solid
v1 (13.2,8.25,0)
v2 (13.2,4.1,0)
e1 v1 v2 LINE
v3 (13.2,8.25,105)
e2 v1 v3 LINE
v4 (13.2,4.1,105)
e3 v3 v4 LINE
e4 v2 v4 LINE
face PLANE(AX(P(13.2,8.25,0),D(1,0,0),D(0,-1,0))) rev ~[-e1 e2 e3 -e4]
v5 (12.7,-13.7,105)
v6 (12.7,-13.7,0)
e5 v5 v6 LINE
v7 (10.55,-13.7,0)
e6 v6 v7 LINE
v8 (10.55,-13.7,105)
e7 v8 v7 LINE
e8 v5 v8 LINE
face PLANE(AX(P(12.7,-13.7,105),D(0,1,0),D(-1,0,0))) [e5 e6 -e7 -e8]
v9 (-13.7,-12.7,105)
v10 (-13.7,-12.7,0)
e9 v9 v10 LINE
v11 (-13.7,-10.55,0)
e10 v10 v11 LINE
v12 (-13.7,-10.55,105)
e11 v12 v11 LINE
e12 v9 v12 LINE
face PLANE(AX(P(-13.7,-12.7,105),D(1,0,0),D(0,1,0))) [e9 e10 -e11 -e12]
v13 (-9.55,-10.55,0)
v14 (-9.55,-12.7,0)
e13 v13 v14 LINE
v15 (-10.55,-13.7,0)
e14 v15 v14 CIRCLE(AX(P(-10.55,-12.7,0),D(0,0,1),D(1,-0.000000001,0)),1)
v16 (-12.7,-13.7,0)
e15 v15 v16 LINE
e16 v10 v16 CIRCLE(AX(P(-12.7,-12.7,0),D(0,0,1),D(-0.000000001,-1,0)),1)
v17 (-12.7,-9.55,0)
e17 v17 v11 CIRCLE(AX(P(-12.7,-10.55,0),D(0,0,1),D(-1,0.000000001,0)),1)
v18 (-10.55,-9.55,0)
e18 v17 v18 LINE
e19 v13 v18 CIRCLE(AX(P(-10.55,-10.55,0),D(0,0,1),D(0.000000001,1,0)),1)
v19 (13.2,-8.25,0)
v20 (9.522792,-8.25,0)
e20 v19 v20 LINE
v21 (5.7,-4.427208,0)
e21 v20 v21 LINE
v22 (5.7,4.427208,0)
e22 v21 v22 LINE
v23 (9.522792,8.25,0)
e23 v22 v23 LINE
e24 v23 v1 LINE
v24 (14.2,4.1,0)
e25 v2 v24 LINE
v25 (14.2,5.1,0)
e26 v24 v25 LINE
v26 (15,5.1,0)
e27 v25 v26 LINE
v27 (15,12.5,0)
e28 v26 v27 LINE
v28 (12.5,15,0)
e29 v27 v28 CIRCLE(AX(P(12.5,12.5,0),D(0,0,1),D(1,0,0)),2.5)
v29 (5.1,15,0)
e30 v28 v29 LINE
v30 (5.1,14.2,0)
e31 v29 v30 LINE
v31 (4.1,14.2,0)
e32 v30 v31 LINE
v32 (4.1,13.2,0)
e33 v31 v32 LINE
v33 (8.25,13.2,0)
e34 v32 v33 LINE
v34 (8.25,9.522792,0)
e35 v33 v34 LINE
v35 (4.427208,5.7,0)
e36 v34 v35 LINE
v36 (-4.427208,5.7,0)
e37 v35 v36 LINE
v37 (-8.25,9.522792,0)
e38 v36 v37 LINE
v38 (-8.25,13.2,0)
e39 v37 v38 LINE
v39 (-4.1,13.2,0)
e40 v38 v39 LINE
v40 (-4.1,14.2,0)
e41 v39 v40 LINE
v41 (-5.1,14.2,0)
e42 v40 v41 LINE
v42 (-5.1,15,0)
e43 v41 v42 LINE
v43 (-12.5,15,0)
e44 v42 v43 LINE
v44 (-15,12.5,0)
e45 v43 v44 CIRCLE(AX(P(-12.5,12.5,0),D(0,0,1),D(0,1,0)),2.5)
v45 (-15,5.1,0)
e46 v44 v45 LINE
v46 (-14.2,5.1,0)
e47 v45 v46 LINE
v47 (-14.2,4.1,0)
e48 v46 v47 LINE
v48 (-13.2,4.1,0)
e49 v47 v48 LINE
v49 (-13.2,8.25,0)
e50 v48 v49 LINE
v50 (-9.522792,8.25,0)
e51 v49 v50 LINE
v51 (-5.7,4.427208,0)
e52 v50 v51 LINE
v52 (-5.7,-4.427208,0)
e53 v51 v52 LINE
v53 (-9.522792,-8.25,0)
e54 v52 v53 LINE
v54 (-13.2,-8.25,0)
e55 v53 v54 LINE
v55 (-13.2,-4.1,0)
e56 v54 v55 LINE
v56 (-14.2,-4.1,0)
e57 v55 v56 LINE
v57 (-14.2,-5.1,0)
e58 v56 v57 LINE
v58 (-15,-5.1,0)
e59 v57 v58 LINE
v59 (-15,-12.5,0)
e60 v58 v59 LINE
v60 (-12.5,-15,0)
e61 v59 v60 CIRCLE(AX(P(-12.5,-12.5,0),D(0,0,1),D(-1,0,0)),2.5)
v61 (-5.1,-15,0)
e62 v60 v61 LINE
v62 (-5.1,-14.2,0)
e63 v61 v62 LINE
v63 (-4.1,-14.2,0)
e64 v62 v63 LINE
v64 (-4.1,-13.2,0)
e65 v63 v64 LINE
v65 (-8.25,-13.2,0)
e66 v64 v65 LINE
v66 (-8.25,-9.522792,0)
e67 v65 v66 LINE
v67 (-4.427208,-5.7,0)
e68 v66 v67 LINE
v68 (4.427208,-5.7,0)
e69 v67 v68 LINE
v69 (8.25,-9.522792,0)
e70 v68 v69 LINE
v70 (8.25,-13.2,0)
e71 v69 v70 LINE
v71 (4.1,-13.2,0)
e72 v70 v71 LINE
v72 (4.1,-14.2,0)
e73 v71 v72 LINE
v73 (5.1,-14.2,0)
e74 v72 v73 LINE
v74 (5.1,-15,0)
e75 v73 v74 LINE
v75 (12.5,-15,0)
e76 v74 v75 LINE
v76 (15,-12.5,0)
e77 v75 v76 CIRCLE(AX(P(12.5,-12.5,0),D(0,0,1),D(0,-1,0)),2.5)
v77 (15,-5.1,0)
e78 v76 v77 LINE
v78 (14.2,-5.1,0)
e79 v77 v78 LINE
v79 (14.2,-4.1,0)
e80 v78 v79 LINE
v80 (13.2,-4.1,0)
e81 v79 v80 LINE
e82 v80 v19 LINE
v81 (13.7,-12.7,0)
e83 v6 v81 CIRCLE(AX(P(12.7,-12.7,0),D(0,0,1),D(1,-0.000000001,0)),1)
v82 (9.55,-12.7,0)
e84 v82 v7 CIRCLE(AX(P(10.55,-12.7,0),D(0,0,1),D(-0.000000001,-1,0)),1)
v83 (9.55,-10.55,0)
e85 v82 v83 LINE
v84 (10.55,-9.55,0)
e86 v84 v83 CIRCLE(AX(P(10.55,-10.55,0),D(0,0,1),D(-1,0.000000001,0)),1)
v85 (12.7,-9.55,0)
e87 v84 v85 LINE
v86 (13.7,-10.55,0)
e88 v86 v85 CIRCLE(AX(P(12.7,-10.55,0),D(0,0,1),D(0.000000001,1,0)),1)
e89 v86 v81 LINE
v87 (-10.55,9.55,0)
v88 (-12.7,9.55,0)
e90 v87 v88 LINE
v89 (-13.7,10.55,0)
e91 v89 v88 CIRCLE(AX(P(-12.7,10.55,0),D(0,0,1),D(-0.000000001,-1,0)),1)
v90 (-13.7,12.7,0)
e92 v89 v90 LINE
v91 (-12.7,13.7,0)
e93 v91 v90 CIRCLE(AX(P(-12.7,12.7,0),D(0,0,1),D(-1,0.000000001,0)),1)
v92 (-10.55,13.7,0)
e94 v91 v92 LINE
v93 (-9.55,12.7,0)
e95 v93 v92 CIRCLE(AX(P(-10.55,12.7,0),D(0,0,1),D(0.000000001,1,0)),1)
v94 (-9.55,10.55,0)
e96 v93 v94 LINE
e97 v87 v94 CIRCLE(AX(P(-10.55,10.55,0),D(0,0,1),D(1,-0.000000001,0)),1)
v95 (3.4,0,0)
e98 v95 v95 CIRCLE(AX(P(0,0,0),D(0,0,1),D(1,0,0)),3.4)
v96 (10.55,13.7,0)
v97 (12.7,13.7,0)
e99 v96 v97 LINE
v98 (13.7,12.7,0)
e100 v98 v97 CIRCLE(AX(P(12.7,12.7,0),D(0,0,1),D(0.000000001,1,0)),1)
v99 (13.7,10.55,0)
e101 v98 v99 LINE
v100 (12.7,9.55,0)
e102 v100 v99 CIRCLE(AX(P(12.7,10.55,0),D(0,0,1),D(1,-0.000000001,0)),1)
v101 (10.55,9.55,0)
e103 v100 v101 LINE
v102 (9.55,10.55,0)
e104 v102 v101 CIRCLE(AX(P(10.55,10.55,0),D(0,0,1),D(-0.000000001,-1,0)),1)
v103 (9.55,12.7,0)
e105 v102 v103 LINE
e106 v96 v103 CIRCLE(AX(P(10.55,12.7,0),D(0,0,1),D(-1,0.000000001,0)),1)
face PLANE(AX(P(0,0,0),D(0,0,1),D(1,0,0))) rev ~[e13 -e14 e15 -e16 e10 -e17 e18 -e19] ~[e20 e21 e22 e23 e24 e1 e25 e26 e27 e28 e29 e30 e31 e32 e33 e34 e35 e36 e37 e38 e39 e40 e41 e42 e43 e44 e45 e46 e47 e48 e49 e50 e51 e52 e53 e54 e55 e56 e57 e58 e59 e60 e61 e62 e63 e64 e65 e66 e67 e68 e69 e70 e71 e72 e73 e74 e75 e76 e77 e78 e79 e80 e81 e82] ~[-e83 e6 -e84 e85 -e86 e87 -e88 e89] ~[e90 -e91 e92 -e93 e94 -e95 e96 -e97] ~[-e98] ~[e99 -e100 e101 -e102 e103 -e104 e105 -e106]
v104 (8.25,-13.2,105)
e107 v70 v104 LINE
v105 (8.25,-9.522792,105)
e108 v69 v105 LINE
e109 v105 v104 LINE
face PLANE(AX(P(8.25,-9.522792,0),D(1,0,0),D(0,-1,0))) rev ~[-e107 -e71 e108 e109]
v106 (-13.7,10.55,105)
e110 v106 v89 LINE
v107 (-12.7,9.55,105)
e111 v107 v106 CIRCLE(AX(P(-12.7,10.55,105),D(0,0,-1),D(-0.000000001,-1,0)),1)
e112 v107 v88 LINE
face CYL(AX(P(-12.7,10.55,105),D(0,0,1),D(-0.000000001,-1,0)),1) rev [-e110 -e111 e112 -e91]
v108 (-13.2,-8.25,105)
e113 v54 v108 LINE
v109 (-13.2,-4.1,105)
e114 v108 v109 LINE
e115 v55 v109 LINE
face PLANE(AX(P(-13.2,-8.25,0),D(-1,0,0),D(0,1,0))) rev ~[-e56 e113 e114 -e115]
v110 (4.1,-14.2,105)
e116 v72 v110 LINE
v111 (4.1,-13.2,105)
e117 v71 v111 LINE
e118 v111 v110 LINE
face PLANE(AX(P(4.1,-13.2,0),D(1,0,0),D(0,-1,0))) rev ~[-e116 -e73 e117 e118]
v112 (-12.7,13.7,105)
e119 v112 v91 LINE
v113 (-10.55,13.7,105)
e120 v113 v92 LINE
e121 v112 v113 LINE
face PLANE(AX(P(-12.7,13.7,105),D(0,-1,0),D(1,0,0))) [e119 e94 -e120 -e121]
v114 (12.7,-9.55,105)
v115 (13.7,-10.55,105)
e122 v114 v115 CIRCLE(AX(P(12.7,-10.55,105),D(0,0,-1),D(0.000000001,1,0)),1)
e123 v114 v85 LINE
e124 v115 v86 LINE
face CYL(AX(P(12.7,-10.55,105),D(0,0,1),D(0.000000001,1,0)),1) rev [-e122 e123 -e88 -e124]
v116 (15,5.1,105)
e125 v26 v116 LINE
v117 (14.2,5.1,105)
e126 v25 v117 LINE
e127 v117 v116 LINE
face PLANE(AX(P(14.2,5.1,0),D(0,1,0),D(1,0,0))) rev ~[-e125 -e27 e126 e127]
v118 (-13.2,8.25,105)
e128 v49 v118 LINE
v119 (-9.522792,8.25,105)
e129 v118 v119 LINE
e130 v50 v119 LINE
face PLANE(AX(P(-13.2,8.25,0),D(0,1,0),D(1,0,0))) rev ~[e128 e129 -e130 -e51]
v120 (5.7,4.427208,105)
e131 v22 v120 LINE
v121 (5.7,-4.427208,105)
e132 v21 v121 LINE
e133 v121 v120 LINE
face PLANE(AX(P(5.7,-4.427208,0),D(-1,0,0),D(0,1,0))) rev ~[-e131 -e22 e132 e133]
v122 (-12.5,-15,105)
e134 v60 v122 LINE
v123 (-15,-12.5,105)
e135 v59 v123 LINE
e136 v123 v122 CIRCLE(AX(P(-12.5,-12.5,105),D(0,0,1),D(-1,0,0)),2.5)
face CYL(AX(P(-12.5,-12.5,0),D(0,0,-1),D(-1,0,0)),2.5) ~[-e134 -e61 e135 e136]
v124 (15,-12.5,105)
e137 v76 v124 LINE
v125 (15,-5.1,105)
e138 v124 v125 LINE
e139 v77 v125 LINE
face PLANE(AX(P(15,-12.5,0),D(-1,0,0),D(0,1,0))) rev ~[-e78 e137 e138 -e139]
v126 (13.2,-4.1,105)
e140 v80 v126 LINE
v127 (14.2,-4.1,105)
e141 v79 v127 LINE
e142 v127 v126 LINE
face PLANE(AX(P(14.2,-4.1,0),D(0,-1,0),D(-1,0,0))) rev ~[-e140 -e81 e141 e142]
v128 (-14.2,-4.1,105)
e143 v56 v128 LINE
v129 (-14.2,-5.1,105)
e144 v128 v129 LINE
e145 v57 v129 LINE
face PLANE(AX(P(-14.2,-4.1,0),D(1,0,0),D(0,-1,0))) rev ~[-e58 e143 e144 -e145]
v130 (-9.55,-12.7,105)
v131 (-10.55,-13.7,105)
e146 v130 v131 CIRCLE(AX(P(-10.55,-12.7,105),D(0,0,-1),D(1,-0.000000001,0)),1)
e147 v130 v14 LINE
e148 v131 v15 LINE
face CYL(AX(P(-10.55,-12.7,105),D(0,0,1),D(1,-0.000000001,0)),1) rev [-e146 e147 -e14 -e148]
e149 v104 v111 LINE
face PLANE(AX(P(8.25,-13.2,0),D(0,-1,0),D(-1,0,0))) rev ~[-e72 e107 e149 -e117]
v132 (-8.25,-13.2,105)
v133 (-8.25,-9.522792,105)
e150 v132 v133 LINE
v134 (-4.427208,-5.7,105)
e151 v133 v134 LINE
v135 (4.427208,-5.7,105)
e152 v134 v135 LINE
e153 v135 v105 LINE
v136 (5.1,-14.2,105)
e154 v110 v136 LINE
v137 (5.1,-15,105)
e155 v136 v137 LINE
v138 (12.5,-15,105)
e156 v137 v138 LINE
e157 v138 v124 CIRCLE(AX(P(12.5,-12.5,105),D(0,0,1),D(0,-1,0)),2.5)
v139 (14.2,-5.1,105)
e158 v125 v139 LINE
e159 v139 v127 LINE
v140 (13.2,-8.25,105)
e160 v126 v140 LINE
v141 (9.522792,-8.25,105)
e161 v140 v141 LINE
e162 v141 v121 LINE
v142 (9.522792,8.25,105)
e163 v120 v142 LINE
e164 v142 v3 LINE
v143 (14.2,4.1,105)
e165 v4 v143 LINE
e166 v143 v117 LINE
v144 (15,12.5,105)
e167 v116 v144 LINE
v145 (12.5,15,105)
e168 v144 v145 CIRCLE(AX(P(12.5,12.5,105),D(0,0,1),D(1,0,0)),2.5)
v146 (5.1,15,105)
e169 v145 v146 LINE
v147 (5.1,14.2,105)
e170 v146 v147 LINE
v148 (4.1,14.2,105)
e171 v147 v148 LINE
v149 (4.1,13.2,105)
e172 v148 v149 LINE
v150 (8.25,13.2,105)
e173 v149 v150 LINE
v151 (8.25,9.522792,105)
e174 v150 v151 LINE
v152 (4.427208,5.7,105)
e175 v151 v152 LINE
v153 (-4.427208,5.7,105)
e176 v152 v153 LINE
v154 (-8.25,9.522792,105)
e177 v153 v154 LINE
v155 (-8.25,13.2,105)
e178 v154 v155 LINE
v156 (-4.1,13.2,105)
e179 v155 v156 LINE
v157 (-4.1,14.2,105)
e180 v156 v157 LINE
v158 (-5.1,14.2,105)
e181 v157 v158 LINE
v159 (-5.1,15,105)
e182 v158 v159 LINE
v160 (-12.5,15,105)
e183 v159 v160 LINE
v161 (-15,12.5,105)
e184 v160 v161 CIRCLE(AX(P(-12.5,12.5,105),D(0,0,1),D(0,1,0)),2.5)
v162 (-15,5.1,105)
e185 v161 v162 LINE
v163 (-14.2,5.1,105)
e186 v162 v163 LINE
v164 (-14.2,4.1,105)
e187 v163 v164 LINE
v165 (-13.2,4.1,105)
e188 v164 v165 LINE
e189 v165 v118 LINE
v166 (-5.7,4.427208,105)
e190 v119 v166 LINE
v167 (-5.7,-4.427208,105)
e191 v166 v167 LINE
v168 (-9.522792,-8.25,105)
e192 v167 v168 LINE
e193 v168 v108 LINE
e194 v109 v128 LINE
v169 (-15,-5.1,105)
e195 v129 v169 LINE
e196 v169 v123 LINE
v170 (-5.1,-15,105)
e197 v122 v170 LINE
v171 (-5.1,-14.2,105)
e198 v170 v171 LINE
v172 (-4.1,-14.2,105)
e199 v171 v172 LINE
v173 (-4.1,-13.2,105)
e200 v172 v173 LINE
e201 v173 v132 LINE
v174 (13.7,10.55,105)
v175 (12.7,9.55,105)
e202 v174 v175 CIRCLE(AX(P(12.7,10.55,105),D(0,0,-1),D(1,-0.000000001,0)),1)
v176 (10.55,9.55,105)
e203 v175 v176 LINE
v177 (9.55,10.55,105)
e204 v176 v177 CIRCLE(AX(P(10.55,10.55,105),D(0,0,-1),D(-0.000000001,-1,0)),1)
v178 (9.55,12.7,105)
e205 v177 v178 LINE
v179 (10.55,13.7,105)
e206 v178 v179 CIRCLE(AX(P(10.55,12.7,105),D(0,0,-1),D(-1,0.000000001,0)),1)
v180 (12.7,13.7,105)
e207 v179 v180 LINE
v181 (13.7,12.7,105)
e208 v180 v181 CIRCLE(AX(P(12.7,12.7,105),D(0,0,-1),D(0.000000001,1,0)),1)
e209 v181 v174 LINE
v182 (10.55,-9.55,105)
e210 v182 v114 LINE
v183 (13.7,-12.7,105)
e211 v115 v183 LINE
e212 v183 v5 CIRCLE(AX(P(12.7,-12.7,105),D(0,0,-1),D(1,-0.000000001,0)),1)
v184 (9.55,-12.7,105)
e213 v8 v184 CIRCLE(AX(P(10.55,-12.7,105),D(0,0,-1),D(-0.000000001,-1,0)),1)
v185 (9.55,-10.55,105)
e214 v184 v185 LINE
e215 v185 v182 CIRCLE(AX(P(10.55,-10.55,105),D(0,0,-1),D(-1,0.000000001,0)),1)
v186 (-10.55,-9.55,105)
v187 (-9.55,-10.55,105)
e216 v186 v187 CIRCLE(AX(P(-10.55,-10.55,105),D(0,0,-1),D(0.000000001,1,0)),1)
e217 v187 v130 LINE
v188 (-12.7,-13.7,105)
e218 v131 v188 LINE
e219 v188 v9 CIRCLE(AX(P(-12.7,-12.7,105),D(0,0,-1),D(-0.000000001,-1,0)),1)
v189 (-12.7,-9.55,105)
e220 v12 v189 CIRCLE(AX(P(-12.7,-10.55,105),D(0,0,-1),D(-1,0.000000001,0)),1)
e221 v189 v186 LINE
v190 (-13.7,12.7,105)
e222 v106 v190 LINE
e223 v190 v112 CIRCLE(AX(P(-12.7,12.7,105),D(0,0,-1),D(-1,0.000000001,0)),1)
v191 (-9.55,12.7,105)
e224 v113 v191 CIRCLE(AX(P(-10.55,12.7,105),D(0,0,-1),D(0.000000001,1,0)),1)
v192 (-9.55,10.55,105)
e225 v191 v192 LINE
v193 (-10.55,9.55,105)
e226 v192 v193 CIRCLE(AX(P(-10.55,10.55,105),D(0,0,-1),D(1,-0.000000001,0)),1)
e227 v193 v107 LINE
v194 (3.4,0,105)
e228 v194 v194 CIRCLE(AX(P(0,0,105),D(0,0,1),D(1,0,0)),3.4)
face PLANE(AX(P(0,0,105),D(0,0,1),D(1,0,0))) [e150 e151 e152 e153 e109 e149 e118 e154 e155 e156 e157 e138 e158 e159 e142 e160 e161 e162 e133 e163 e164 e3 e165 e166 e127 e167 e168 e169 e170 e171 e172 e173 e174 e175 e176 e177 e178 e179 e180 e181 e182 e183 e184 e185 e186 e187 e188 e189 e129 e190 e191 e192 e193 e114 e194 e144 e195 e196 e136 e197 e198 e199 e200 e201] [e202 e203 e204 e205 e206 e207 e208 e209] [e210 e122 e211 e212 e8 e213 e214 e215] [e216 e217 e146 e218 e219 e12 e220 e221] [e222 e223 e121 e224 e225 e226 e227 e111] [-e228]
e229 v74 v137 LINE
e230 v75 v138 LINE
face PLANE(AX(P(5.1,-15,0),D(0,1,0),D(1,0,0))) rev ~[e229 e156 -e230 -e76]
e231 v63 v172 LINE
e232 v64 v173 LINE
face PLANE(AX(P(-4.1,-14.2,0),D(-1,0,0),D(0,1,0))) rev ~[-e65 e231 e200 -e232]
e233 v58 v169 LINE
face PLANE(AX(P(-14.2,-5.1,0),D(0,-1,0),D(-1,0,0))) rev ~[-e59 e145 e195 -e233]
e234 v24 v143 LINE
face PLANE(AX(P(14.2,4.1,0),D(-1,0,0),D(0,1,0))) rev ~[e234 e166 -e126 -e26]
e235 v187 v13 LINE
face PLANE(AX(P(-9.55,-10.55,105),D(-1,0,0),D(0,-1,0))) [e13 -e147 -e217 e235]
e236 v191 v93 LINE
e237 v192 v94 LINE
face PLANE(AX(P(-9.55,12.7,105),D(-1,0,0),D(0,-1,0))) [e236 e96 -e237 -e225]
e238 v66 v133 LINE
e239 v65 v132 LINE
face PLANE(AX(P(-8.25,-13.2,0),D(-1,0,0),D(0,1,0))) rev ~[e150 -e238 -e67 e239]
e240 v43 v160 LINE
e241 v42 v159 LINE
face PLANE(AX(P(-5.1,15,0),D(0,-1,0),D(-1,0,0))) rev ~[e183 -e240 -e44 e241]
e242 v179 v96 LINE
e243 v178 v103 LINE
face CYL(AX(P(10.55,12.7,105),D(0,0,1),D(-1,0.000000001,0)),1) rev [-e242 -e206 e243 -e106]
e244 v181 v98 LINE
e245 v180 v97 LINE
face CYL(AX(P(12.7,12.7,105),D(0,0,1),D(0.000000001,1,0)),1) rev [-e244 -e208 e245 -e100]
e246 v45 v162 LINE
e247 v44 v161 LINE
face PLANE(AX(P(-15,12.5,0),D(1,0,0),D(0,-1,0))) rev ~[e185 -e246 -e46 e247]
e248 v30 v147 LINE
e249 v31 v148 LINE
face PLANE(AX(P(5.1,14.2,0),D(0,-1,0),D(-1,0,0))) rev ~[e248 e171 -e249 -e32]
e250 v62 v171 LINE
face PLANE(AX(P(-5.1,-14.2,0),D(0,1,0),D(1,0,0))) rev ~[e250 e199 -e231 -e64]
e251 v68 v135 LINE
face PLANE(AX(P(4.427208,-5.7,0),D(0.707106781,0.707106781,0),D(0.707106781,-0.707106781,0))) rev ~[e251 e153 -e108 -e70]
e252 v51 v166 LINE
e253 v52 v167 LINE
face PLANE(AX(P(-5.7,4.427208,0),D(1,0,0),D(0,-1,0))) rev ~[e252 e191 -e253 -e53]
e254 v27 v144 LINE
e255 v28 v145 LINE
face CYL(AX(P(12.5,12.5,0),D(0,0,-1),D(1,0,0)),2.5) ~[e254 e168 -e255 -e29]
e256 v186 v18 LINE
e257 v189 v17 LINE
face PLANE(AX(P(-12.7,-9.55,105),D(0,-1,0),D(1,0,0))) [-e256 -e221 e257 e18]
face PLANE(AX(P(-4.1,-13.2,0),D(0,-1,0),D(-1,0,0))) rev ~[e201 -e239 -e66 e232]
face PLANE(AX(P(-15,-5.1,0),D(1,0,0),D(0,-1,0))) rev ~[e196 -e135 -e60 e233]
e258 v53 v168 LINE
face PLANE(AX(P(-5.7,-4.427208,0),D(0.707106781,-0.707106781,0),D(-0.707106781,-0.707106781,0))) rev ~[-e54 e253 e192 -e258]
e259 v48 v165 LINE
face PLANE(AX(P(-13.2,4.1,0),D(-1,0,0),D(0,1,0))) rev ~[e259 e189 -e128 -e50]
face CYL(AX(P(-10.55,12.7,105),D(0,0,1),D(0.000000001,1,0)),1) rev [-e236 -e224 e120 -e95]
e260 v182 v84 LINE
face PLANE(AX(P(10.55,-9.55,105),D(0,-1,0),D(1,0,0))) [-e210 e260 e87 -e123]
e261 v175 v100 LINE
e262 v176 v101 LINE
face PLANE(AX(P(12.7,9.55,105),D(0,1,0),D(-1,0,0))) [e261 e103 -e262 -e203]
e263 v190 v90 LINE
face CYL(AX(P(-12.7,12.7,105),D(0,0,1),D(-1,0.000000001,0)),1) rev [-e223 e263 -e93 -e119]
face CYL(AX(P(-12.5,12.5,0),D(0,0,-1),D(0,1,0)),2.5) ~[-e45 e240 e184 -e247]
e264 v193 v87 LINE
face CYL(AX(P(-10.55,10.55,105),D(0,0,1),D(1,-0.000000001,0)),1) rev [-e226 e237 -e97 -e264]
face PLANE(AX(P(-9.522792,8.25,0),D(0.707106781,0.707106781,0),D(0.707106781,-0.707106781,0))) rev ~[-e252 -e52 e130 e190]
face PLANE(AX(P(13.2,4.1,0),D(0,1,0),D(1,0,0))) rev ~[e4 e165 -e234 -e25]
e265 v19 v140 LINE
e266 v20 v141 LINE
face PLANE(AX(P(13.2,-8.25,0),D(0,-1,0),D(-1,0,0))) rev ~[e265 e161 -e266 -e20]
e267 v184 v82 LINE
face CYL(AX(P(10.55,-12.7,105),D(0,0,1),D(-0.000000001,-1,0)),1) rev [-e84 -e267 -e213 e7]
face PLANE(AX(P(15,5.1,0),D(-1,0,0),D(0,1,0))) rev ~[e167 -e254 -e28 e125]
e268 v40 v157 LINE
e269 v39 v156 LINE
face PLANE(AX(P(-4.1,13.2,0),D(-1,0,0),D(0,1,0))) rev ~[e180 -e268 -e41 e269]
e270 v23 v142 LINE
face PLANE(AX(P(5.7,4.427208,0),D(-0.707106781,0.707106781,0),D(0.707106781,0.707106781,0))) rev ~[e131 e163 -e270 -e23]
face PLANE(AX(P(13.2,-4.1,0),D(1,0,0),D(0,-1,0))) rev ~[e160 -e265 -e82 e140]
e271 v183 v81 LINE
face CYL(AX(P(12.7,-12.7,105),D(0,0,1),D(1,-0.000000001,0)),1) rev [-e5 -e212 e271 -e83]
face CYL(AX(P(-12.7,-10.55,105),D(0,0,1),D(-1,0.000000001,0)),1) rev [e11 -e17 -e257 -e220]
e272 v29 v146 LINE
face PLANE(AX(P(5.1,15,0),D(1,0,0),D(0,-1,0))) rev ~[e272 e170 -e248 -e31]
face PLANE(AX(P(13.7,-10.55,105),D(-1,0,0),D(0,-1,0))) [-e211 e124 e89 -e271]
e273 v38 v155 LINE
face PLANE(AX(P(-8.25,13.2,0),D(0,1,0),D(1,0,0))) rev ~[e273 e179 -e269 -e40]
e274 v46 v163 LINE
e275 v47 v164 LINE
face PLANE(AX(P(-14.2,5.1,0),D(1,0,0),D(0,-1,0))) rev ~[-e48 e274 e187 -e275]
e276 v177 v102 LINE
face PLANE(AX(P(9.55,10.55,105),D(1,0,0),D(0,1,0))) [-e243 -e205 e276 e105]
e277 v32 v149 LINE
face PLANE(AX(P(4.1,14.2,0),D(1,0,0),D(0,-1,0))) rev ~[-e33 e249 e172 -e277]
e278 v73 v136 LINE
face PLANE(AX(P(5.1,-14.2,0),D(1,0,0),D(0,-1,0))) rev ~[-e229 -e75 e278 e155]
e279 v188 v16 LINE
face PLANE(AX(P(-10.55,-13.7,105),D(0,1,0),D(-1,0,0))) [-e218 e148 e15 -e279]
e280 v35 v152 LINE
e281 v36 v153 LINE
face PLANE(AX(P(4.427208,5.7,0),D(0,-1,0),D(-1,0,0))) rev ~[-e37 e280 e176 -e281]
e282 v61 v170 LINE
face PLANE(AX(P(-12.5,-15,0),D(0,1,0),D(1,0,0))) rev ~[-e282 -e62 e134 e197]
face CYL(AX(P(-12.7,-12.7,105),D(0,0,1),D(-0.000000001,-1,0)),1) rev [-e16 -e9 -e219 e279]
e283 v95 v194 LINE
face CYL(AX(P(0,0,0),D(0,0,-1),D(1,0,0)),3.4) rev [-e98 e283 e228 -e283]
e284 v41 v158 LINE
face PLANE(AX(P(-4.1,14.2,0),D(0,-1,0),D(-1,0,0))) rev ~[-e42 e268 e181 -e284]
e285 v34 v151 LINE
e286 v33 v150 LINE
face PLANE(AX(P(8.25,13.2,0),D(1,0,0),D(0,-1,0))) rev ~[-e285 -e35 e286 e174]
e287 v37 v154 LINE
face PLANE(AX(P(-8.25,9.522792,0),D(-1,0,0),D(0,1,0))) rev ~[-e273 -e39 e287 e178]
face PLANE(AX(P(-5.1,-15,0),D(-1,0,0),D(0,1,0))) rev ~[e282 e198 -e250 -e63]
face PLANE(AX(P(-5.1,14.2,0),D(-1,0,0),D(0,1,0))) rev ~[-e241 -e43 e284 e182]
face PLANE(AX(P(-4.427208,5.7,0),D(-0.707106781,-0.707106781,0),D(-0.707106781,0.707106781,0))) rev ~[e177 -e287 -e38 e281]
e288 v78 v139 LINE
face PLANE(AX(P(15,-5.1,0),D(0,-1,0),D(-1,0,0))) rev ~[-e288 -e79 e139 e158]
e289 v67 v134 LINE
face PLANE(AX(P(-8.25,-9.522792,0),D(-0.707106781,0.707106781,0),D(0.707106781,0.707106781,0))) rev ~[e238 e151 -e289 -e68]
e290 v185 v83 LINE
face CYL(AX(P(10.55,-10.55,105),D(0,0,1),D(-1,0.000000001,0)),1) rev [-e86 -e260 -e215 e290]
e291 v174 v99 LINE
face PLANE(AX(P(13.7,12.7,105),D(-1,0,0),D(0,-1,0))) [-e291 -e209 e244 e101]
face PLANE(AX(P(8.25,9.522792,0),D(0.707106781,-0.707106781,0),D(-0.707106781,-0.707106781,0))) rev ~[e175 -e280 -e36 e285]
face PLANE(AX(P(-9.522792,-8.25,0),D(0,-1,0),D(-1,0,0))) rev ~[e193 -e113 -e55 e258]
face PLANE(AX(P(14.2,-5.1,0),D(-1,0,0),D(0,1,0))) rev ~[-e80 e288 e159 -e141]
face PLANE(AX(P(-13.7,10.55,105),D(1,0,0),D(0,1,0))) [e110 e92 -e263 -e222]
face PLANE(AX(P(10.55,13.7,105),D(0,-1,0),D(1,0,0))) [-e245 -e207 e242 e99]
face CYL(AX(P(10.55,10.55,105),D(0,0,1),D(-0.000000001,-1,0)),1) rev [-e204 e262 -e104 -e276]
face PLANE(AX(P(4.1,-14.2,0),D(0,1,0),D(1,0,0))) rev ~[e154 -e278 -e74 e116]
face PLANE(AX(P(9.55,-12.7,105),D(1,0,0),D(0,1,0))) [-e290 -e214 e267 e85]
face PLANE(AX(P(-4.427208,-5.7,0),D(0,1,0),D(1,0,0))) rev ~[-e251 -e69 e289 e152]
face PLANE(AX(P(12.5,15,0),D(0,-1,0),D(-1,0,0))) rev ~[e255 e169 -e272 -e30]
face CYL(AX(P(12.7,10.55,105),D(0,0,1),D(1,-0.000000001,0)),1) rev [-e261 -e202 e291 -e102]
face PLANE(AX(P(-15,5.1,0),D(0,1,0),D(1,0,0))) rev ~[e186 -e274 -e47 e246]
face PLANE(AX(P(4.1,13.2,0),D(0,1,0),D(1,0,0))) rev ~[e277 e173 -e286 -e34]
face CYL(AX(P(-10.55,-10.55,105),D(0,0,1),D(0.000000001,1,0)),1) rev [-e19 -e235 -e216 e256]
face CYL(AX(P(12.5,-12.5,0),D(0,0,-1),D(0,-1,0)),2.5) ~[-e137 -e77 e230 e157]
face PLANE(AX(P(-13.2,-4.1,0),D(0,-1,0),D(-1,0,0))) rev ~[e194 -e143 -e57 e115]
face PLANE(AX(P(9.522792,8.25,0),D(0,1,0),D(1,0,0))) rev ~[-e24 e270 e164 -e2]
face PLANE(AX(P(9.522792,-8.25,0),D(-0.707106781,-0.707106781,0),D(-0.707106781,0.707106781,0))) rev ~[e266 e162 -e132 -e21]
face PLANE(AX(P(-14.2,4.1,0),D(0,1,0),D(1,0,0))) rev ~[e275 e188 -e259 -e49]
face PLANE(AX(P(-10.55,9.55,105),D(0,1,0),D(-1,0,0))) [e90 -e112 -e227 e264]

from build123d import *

# Parameters (mm, degrees)
SKETCH1_R      = 3.4
EXTRUDE1_DEPTH = 105
EXTRUDE2_DEPTH = 108.121426428


with BuildPart() as part:
    # Sketch1 → Extrude1 (new body)
    with BuildSketch(Plane.XY):
        with BuildLine():
            Line((-5.1, 14.2), (-5.1, 15))
            Line((-5.1, 15), (-12.5, 15))
            ThreePointArc((-12.5, 15), (-14.267766953, 14.267766953), (-15, 12.5))
            Line((-15, 12.5), (-15, 5.1))
            Line((-15, 5.1), (-14.2, 5.1))
            Line((-14.2, 5.1), (-14.2, 4.1))
            Line((-14.2, 4.1), (-13.2, 4.1))
            Line((-13.2, 4.1), (-13.2, 8.25))
            Line((-13.2, 8.25), (-9.522792206, 8.25))
            Line((-9.522792206, 8.25), (-5.7, 4.427207794))
            Line((-5.7, 4.427207794), (-5.7, -4.427207794))
            Line((-5.7, -4.427207794), (-9.522792206, -8.25))
            Line((-9.522792206, -8.25), (-13.2, -8.25))
            Line((-13.2, -8.25), (-13.2, -4.1))
            Line((-13.2, -4.1), (-14.2, -4.1))
            Line((-14.2, -4.1), (-14.2, -5.1))
            Line((-14.2, -5.1), (-15, -5.1))
            Line((-15, -5.1), (-15, -12.5))
            ThreePointArc((-15, -12.5), (-14.267766953, -14.267766953), (-12.5, -15))
            Line((-12.5, -15), (-5.1, -15))
            Line((-5.1, -15), (-5.1, -14.2))
            Line((-5.1, -14.2), (-4.1, -14.2))
            Line((-4.1, -14.2), (-4.1, -13.2))
            Line((-4.1, -13.2), (-8.25, -13.2))
            Line((-8.25, -13.2), (-8.25, -9.522792206))
            Line((-8.25, -9.522792206), (-4.427207794, -5.7))
            Line((-4.427207794, -5.7), (4.427207794, -5.7))
            Line((4.427207794, -5.7), (8.25, -9.522792206))
            Line((8.25, -9.522792206), (8.25, -13.2))
            Line((8.25, -13.2), (4.1, -13.2))
            Line((4.1, -13.2), (4.1, -14.2))
            Line((4.1, -14.2), (5.1, -14.2))
            Line((5.1, -14.2), (5.1, -15))
            Line((5.1, -15), (12.5, -15))
            ThreePointArc((12.5, -15), (14.267766953, -14.267766953), (15, -12.5))
            Line((15, -12.5), (15, -5.1))
            Line((15, -5.1), (14.2, -5.1))
            Line((14.2, -5.1), (14.2, -4.1))
            Line((14.2, -4.1), (13.2, -4.1))
            Line((13.2, -4.1), (13.2, -8.25))
            Line((13.2, -8.25), (9.522792206, -8.25))
            Line((9.522792206, -8.25), (5.7, -4.427207794))
            Line((5.7, -4.427207794), (5.7, 4.427207794))
            Line((5.7, 4.427207794), (9.522792206, 8.25))
            Line((9.522792206, 8.25), (13.2, 8.25))
            Line((13.2, 8.25), (13.2, 4.1))
            Line((13.2, 4.1), (14.2, 4.1))
            Line((14.2, 4.1), (14.2, 5.1))
            Line((14.2, 5.1), (15, 5.1))
            Line((15, 5.1), (15, 12.5))
            ThreePointArc((15, 12.5), (14.267766953, 14.267766953), (12.5, 15))
            Line((12.5, 15), (5.1, 15))
            Line((5.1, 15), (5.1, 14.2))
            Line((5.1, 14.2), (4.1, 14.2))
            Line((4.1, 14.2), (4.1, 13.2))
            Line((4.1, 13.2), (8.25, 13.2))
            Line((8.25, 13.2), (8.25, 9.522792206))
            Line((8.25, 9.522792206), (4.427207794, 5.7))
            Line((4.427207794, 5.7), (-4.427207794, 5.7))
            Line((-4.427207794, 5.7), (-8.25, 9.522792206))
            Line((-8.25, 9.522792206), (-8.25, 13.2))
            Line((-8.25, 13.2), (-4.1, 13.2))
            Line((-4.1, 13.2), (-4.1, 14.2))
            Line((-4.1, 14.2), (-5.1, 14.2))
        make_face()
        Circle(SKETCH1_R, mode=Mode.SUBTRACT)
    extrude(amount=EXTRUDE1_DEPTH)

    # Sketch2 → Extrude2 (cut, through all)
    with BuildSketch(Plane.XY.offset(105)):
        with BuildLine():
            Line((13.7, 12.7), (13.7, 10.55))
            ThreePointArc((13.7, 10.55), (13.407106781, 9.842893219), (12.7, 9.55))
            Line((12.7, 9.55), (10.55, 9.55))
            ThreePointArc((10.55, 9.55), (9.842893219, 9.842893219), (9.55, 10.55))
            Line((9.55, 10.55), (9.55, 12.7))
            ThreePointArc((9.55, 12.7), (9.842893219, 13.407106781), (10.55, 13.7))
            Line((10.55, 13.7), (12.7, 13.7))
            ThreePointArc((12.7, 13.7), (13.407106781, 13.407106781), (13.7, 12.7))
        make_face()
        with BuildLine():
            Line((-12.7, 13.7), (-10.55, 13.7))
            ThreePointArc((-10.55, 13.7), (-9.842893219, 13.407106781), (-9.55, 12.7))
            Line((-9.55, 12.7), (-9.55, 10.55))
            ThreePointArc((-9.55, 10.55), (-9.842893219, 9.842893219), (-10.55, 9.55))
            Line((-10.55, 9.55), (-12.7, 9.55))
            ThreePointArc((-12.7, 9.55), (-13.407106781, 9.842893219), (-13.7, 10.55))
            Line((-13.7, 10.55), (-13.7, 12.7))
            ThreePointArc((-13.7, 12.7), (-13.407106781, 13.407106781), (-12.7, 13.7))
        make_face()
        with BuildLine():
            Line((12.7, -13.7), (10.55, -13.7))
            ThreePointArc((10.55, -13.7), (9.842893219, -13.407106781), (9.55, -12.7))
            Line((9.55, -12.7), (9.55, -10.55))
            ThreePointArc((9.55, -10.55), (9.842893219, -9.842893219), (10.55, -9.55))
            Line((10.55, -9.55), (12.7, -9.55))
            ThreePointArc((12.7, -9.55), (13.407106781, -9.842893219), (13.7, -10.55))
            Line((13.7, -10.55), (13.7, -12.7))
            ThreePointArc((13.7, -12.7), (13.407106781, -13.407106781), (12.7, -13.7))
        make_face()
        with BuildLine():
            Line((-13.7, -12.7), (-13.7, -10.55))
            ThreePointArc((-13.7, -10.55), (-13.407106781, -9.842893219), (-12.7, -9.55))
            Line((-12.7, -9.55), (-10.55, -9.55))
            ThreePointArc((-10.55, -9.55), (-9.842893219, -9.842893219), (-9.55, -10.55))
            Line((-9.55, -10.55), (-9.55, -12.7))
            ThreePointArc((-9.55, -12.7), (-9.842893219, -13.407106781), (-10.55, -13.7))
            Line((-10.55, -13.7), (-12.7, -13.7))
            ThreePointArc((-12.7, -13.7), (-13.407106781, -13.407106781), (-13.7, -12.7))
        make_face()
    extrude(amount=-EXTRUDE2_DEPTH, mode=Mode.SUBTRACT)


solid = part.part
